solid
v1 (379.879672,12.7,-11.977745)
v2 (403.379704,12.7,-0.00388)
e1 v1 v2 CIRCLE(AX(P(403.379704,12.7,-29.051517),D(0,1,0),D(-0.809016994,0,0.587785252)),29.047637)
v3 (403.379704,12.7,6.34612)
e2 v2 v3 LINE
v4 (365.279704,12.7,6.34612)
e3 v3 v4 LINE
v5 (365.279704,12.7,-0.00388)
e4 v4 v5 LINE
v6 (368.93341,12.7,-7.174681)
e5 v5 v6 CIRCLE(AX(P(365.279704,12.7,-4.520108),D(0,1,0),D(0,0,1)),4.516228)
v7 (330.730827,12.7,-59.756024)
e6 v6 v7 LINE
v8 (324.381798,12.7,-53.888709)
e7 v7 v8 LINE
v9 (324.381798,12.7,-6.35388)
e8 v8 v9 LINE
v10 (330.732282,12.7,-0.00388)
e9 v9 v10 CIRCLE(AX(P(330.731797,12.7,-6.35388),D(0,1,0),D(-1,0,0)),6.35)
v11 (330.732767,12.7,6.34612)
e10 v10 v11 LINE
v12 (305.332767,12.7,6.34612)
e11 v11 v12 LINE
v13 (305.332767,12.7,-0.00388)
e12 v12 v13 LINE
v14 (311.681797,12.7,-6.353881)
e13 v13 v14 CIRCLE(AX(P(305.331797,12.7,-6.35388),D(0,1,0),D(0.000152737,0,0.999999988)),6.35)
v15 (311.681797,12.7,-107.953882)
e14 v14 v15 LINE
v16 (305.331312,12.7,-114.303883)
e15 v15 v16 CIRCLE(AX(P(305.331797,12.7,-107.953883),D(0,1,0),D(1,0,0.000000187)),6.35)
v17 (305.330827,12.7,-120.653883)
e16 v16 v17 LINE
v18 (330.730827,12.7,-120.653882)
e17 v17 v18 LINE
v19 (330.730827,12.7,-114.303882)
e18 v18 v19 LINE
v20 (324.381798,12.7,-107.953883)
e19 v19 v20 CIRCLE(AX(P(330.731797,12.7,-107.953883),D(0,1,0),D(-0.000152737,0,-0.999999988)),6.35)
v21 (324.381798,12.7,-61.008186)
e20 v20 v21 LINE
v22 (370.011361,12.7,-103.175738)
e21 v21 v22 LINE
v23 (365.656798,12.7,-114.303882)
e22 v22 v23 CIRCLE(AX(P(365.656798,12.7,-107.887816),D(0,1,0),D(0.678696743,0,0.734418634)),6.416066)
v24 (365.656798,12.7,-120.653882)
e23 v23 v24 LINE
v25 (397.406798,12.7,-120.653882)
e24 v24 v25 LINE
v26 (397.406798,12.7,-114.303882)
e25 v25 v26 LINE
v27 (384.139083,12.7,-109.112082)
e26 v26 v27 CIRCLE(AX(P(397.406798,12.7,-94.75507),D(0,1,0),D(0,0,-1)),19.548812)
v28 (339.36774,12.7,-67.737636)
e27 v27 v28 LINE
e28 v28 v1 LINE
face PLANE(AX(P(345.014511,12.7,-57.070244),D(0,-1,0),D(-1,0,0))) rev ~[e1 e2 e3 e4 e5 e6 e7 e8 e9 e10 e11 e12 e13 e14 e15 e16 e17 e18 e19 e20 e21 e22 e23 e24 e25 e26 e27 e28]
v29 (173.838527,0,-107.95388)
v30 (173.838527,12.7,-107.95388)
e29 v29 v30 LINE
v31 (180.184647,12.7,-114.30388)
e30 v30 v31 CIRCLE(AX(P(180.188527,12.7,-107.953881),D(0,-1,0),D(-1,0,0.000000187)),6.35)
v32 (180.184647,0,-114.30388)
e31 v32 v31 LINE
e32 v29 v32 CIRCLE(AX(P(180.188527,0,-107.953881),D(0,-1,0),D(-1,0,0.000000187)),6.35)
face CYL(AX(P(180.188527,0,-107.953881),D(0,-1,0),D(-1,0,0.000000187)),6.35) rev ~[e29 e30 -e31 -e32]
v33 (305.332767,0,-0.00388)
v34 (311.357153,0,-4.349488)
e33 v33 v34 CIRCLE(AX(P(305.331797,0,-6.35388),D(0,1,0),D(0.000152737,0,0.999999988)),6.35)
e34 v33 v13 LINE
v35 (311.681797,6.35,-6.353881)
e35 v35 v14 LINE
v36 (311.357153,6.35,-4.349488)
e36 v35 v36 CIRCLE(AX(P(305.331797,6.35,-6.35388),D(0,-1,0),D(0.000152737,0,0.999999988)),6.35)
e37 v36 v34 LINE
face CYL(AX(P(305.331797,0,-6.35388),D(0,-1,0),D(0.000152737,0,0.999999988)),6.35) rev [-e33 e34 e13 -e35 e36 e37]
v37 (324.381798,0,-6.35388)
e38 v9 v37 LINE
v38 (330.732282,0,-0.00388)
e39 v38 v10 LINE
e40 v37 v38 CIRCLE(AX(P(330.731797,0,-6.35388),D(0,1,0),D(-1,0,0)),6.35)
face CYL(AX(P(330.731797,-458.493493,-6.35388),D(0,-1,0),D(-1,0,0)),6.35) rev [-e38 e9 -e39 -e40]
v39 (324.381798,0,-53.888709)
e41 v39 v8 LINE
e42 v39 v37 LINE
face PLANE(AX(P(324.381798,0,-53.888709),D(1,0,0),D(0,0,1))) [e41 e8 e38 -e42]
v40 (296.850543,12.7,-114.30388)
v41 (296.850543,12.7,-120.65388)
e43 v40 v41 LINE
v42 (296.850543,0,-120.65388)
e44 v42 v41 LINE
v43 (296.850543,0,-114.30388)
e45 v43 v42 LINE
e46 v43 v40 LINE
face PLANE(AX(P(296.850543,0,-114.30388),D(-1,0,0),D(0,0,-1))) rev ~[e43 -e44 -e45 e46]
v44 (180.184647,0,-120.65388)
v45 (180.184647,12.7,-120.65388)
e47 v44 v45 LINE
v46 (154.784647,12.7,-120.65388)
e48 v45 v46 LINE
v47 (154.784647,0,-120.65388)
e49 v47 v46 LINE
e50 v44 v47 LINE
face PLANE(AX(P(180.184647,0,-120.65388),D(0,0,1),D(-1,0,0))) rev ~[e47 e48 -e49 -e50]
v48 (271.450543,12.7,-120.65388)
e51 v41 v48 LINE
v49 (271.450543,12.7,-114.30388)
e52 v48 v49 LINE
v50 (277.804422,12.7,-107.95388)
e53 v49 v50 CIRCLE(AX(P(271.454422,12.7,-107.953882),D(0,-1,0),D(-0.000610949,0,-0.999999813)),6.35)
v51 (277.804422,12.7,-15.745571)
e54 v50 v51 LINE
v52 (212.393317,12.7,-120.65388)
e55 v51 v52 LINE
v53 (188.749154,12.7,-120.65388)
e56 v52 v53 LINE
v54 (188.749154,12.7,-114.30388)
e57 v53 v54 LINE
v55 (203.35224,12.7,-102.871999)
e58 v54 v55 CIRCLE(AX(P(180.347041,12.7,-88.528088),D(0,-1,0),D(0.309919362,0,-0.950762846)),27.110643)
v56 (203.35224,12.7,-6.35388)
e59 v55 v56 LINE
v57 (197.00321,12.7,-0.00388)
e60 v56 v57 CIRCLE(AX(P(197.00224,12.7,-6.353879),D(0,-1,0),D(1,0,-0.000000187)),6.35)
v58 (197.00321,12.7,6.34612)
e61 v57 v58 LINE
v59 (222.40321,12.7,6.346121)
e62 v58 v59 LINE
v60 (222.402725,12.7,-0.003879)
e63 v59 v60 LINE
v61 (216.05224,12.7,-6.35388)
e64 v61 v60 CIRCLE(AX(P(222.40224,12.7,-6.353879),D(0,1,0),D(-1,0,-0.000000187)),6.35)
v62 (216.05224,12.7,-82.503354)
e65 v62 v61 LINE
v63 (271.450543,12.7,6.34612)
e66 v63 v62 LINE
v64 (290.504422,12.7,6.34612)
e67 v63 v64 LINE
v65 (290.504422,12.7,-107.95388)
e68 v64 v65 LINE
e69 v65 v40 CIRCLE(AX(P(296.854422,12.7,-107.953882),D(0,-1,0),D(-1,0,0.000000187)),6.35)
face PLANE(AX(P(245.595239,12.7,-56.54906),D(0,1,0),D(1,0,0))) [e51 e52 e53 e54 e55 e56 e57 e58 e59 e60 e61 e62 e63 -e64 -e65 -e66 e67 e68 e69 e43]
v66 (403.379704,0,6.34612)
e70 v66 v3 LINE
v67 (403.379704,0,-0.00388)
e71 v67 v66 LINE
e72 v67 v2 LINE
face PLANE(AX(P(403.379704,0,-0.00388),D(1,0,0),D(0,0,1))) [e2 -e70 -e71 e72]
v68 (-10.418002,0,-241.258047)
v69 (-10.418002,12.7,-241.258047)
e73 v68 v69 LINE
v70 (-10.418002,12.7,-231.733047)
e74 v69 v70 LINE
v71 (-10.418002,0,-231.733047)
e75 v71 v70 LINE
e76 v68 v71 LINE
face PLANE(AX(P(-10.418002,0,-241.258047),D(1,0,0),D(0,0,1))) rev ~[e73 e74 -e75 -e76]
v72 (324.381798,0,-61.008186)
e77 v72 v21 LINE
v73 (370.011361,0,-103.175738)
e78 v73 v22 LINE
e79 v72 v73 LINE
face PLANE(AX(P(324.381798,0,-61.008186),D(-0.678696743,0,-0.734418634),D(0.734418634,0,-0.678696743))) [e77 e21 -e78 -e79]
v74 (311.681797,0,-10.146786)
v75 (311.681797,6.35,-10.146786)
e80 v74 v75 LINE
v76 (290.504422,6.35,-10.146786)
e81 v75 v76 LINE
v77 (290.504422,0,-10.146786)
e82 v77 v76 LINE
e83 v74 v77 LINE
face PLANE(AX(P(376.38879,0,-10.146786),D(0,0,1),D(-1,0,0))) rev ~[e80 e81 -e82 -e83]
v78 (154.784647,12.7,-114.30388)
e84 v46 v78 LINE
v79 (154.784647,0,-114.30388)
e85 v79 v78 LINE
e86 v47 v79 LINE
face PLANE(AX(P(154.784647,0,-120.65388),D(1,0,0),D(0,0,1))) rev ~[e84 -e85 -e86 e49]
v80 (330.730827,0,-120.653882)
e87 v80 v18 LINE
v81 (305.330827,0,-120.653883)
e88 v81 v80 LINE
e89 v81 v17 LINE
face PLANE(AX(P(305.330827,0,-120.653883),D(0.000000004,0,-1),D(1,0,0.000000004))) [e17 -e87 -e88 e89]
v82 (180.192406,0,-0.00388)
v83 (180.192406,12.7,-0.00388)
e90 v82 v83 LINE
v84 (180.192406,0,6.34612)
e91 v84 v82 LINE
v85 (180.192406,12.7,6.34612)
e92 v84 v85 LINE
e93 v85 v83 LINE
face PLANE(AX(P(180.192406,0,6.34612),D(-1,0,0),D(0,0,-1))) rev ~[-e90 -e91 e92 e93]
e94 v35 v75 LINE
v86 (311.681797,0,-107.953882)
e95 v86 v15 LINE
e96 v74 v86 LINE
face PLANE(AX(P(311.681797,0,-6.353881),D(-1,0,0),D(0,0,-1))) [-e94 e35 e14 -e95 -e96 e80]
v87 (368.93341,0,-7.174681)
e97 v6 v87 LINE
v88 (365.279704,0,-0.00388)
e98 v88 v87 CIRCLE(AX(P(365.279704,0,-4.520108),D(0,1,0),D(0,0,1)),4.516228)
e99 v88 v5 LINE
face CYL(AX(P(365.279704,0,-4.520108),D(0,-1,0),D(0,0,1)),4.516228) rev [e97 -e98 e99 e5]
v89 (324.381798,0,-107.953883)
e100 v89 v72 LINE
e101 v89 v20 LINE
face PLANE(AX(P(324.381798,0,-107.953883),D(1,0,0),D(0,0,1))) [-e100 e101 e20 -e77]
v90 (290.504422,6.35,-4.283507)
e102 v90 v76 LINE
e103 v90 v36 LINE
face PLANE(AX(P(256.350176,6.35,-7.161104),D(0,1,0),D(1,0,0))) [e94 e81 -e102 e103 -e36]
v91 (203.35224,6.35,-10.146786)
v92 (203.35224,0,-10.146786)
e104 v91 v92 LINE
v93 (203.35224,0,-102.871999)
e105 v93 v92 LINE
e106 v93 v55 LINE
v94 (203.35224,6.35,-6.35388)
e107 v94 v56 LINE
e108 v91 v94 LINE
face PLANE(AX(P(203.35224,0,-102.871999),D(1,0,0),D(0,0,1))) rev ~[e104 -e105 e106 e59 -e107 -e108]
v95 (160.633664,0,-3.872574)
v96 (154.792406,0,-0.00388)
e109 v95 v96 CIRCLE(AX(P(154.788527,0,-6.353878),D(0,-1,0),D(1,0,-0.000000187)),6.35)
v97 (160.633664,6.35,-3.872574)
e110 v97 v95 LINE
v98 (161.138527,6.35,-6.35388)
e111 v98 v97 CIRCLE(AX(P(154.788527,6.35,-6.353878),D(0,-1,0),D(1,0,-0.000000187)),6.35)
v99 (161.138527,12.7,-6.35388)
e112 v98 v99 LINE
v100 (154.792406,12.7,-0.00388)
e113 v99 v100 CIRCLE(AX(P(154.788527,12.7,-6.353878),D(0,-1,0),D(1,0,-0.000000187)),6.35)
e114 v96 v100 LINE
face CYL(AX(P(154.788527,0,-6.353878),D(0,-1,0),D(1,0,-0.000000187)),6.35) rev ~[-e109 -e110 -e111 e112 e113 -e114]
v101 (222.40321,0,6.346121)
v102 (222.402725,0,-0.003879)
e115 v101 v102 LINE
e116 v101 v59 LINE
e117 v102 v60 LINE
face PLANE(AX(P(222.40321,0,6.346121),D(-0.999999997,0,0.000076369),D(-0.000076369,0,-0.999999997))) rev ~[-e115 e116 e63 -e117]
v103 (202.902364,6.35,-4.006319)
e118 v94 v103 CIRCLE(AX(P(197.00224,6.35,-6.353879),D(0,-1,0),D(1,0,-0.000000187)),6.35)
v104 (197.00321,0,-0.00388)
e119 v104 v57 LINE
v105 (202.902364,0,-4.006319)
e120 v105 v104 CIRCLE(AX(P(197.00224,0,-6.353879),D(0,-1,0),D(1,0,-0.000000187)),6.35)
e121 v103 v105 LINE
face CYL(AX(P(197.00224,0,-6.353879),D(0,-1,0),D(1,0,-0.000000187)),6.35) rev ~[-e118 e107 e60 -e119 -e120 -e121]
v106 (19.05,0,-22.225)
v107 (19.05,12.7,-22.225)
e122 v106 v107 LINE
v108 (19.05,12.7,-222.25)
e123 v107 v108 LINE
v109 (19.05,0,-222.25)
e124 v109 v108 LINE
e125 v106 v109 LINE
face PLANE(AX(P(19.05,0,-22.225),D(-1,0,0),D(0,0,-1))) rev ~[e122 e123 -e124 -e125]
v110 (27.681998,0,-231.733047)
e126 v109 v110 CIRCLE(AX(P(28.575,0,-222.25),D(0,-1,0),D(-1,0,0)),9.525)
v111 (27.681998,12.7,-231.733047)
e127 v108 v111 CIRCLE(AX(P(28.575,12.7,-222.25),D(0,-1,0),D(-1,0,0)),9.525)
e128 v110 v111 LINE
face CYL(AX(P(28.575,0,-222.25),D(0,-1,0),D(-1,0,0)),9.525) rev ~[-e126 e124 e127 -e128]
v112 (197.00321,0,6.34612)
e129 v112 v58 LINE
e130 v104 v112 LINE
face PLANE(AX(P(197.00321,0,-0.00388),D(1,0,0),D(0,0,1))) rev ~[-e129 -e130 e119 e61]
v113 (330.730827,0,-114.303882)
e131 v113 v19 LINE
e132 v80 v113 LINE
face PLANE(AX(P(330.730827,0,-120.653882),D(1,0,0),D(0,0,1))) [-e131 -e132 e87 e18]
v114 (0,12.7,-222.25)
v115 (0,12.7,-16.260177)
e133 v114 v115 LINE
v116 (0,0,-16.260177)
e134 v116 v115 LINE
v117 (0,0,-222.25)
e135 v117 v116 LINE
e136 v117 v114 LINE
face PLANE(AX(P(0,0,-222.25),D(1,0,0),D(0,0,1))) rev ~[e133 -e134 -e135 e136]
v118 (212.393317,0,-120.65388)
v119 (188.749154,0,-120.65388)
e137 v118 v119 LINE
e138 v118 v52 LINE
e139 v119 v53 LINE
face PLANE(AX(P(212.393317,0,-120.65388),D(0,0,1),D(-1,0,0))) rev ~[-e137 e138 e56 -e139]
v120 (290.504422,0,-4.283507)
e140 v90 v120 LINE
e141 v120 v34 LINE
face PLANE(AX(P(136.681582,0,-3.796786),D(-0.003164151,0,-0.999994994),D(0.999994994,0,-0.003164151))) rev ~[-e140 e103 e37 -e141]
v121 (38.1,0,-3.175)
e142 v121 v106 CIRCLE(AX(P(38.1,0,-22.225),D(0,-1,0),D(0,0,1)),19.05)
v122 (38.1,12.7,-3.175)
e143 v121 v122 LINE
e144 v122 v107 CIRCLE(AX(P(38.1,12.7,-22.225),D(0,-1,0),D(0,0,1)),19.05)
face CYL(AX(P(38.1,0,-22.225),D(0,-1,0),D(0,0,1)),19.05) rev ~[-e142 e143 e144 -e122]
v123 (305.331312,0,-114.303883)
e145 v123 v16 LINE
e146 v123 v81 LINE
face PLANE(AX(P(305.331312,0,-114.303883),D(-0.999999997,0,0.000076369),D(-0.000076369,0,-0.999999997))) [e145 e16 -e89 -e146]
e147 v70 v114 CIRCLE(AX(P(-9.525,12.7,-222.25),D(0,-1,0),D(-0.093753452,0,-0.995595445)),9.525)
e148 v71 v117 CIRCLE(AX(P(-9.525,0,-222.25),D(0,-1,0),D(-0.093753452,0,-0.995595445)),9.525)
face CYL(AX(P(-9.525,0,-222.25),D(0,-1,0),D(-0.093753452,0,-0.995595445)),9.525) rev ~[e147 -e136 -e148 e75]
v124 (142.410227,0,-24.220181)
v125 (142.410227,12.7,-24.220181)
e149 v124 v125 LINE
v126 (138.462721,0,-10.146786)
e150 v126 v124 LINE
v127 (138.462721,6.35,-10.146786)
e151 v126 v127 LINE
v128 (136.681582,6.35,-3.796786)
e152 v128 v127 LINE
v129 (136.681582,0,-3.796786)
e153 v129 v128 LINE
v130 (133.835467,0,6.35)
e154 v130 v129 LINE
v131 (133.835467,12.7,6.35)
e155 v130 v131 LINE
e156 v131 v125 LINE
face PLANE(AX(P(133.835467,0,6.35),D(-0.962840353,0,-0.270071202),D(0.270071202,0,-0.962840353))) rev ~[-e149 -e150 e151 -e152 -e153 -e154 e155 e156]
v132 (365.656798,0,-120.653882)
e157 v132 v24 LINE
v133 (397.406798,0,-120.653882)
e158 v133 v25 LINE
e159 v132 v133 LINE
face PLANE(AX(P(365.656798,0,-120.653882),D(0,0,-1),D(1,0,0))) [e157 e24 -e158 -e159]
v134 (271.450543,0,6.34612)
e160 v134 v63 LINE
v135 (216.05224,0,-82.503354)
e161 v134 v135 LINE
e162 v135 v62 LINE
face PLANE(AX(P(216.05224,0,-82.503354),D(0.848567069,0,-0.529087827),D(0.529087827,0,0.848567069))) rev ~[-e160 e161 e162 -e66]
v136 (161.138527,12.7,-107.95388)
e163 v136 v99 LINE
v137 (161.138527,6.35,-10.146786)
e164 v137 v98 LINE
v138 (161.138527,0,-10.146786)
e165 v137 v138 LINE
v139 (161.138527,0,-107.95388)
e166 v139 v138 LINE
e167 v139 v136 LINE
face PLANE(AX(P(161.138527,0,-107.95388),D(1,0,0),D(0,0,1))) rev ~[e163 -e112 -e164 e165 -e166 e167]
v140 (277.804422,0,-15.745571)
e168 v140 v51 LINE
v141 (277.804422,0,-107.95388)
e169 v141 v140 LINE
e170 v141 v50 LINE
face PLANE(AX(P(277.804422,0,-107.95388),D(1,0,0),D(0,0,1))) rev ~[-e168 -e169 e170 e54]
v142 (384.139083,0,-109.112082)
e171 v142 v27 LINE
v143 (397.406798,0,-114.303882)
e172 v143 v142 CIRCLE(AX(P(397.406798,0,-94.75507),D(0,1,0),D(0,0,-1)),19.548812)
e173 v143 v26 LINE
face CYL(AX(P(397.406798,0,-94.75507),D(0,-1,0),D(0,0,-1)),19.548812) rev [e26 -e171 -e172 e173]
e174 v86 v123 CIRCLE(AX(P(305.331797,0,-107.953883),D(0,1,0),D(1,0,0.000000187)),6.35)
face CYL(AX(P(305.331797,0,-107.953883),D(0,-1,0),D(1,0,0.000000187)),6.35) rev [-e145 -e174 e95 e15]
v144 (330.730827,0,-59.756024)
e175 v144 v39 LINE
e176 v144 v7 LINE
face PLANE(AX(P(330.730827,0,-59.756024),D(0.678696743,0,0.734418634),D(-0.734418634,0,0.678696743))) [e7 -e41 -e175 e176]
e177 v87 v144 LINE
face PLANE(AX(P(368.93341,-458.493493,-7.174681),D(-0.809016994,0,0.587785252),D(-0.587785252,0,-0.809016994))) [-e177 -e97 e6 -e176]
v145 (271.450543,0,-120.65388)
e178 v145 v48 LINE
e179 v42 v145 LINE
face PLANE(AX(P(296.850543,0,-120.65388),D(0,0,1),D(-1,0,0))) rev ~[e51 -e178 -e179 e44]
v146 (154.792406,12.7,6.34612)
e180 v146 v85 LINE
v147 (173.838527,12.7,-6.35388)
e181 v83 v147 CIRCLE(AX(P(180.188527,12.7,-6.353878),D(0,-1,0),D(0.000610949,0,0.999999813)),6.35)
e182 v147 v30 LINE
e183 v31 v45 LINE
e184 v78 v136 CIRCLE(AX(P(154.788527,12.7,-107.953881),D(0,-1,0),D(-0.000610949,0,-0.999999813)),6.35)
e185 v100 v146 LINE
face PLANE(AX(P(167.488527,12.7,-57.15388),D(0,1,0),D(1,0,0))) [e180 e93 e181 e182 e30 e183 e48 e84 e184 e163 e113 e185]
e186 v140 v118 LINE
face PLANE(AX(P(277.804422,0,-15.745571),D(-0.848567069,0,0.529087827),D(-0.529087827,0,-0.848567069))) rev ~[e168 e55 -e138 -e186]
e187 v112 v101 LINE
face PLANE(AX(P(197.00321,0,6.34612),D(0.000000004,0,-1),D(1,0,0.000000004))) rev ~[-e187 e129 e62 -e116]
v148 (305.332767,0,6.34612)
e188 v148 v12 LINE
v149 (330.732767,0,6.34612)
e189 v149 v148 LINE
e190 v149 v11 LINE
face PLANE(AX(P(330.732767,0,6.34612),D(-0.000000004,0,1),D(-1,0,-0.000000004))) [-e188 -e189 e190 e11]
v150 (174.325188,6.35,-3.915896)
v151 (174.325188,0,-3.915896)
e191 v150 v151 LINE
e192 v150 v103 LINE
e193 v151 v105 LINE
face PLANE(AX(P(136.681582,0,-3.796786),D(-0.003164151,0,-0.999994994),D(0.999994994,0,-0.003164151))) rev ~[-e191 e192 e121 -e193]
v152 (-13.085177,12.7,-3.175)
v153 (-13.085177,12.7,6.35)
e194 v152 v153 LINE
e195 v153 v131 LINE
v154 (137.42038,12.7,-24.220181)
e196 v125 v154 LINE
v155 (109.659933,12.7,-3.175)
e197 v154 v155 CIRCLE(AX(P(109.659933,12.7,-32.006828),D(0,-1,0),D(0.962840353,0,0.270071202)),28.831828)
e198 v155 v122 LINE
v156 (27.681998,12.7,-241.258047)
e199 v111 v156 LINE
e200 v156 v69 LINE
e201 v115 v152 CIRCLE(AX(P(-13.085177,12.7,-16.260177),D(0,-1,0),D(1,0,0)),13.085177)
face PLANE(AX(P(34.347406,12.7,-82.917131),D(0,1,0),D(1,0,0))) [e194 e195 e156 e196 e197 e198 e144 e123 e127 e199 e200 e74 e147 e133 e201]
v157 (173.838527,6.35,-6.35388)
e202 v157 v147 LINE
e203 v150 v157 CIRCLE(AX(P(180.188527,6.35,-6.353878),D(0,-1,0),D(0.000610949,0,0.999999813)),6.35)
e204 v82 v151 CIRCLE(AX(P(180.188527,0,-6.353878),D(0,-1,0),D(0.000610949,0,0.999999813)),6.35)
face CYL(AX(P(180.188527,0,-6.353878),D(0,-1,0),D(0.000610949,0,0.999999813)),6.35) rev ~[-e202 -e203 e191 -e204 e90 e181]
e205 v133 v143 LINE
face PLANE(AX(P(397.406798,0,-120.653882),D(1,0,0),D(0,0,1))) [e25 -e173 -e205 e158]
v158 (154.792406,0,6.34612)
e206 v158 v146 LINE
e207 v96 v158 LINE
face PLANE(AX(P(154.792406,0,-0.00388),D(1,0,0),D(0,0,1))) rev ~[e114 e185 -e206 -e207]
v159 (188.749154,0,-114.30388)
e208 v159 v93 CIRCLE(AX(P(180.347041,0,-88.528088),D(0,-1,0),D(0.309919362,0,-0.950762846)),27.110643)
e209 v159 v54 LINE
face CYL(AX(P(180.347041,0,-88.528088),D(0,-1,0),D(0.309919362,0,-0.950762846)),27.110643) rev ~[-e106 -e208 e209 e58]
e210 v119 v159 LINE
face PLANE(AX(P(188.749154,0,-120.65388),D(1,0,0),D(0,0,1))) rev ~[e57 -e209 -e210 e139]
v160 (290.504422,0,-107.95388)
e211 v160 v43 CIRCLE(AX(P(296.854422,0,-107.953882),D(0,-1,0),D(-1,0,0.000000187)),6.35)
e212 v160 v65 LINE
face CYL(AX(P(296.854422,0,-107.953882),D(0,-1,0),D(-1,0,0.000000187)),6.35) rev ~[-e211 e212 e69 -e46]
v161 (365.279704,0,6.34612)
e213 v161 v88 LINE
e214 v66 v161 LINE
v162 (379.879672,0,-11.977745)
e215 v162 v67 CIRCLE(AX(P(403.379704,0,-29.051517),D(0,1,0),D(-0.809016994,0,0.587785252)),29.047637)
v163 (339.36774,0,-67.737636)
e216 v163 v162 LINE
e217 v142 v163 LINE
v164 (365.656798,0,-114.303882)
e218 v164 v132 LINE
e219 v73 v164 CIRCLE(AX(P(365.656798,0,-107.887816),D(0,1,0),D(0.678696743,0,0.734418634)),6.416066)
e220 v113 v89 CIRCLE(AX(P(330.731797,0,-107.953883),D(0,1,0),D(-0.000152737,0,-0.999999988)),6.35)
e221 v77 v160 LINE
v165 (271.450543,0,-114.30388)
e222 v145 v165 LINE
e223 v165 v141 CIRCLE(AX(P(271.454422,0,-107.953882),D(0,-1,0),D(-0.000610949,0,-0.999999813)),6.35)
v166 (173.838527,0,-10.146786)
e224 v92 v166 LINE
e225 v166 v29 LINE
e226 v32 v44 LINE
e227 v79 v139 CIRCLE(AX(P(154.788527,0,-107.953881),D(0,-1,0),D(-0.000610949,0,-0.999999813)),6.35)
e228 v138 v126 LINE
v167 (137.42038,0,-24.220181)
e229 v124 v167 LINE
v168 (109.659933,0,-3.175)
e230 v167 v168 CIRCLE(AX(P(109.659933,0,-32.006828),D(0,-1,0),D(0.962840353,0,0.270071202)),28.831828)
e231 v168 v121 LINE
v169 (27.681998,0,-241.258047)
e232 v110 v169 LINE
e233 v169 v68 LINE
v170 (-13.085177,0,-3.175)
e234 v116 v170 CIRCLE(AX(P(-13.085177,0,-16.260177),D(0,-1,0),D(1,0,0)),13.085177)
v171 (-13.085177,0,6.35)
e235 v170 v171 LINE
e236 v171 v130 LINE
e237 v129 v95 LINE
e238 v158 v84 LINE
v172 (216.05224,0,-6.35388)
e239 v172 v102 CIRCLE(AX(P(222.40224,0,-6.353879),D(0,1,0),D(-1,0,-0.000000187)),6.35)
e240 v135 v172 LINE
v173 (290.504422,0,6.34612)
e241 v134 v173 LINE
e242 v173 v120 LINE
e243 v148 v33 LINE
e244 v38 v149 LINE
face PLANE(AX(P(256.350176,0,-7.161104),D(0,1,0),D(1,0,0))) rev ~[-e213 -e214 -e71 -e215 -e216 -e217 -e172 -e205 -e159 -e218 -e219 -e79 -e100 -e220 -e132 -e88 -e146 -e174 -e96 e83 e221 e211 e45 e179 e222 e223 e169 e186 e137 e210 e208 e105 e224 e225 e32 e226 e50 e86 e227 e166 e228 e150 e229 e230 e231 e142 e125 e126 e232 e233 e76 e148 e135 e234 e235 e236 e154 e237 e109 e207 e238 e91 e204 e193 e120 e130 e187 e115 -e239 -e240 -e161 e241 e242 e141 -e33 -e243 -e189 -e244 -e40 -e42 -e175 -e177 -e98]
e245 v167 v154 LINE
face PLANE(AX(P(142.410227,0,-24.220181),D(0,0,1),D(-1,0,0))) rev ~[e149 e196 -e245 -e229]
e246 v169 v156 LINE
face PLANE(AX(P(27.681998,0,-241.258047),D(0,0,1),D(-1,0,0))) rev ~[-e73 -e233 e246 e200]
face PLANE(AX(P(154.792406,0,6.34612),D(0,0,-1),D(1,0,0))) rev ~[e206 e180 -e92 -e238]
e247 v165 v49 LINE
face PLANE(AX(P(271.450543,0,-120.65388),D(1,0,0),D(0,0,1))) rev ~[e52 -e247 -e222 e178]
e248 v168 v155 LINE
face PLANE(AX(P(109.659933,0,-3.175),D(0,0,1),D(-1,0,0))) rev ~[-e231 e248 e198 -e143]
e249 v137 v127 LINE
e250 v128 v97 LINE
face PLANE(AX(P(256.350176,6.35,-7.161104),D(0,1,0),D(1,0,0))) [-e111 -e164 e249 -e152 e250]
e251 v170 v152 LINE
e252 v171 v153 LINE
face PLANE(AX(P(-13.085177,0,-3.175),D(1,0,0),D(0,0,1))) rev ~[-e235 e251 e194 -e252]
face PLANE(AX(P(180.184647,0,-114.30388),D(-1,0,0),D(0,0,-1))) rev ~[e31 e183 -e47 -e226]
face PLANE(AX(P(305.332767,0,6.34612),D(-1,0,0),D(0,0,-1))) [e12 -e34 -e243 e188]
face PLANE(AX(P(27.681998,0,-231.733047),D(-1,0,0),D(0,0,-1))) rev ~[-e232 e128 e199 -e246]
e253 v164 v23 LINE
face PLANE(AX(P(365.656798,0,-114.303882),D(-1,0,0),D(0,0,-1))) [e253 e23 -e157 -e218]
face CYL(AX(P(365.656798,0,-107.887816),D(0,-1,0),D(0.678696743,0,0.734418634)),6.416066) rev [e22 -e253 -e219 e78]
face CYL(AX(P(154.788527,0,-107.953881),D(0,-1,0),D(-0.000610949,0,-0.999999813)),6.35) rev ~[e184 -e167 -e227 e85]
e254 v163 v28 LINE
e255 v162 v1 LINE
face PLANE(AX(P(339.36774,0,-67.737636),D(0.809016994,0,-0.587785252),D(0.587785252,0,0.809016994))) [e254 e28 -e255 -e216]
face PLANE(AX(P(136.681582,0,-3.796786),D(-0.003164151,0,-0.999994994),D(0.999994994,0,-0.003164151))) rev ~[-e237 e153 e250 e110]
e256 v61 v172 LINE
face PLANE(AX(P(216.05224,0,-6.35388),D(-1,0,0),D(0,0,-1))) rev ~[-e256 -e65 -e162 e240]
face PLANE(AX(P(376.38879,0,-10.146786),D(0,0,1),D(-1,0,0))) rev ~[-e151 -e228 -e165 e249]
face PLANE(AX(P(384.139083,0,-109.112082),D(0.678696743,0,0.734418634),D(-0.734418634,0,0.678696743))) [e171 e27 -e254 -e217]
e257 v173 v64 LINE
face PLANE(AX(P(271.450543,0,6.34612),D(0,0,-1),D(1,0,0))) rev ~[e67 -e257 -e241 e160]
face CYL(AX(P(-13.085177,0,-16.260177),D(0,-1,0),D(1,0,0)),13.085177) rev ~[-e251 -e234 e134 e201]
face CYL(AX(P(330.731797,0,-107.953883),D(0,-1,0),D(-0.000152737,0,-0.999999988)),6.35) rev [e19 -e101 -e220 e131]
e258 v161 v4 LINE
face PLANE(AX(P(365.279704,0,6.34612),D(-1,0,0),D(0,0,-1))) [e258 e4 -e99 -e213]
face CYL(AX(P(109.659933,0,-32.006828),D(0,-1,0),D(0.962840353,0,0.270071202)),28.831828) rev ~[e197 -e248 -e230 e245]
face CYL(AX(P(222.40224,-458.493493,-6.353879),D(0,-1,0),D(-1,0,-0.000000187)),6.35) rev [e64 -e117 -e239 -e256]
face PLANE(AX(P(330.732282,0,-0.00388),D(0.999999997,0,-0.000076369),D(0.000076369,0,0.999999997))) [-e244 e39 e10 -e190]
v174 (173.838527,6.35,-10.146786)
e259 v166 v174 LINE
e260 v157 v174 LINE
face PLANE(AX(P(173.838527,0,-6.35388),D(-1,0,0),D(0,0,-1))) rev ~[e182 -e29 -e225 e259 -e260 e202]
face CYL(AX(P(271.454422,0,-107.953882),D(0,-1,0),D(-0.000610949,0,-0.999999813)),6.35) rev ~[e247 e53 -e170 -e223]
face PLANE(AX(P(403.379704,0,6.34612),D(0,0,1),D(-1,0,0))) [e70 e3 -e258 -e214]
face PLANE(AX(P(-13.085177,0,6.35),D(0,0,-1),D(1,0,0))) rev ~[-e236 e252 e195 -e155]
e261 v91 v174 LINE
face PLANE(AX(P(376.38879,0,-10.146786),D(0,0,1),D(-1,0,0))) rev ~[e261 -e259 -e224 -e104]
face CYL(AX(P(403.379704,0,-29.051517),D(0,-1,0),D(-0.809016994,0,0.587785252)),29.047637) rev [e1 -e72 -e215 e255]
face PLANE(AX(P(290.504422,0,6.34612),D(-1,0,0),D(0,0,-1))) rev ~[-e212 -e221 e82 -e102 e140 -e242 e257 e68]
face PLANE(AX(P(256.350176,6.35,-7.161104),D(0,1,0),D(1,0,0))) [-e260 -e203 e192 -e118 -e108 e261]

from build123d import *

# Parameters (mm, degrees)
BOSS_EXTRUDE1_DEPTH     = 12.7
BOSS_EXTRUDE1_2_DEPTH   = 12.7
BOSS_EXTRUDE1_3_DEPTH   = 12.7
BOSS_EXTRUDE1_4_DEPTH   = 12.7
BOSS_EXTRUDE2_DEPTH     = 6.35
CUT_EXTRUDE2_DEPTH      = 471.19349296362236
CUT_EXTRUDE2_DEPTH_BACK = 471.19349296362236


with BuildPart() as part:
    # Sketch2 → Boss-Extrude1 (new body)
    with BuildSketch(Plane(origin=(0, 0, 0), x_dir=(1, 0, 0), z_dir=(0, 1, 0))):
        with BuildLine():
            Line((173.83852694696787, 6.353879523850983), (173.83852694696787, 107.95387952385097))
            ThreePointArc((173.83852694696787, 107.95387952385097), (175.69702705818847, 112.4426365219853), (180.18464742311625, 114.30387952385061))
            Line((180.18464742311625, 114.30387952385061), (180.18464742311627, 120.65387952385097))
            Line((180.18464742311627, 120.65387952385097), (154.78464742311627, 120.65387952385103))
            Line((154.78464742311627, 120.65387952385103), (154.78464742311627, 114.30387952385061))
            ThreePointArc((154.78464742311627, 114.30387952385061), (159.27728359825178, 112.44537975999239), (161.1385269469677, 107.95387952385097))
            Line((161.1385269469677, 107.95387952385097), (161.1385269469677, 6.353879523850983))
            ThreePointArc((161.1385269469677, 6.353879523850983), (159.28002683574687, 1.8651225257164699), (154.79240647081883, 0.00387952385118295))
            Line((154.79240647081883, 0.00387952385118295), (154.79240647081883, -6.34612047614902))
            Line((154.79240647081883, -6.34612047614902), (180.19240647081884, -6.34612047614902))
            Line((180.19240647081884, -6.34612047614902), (180.19240647081887, 0.00387952385118295))
            ThreePointArc((180.19240647081887, 0.00387952385118295), (175.69977029568358, 1.8623792877096292), (173.83852694696787, 6.353879523850983))
        make_face()
    extrude(amount=BOSS_EXTRUDE1_DEPTH)



with BuildPart() as body_2:
    # Sketch2 → Boss-Extrude1 2 (new body)
    with BuildSketch(Plane(origin=(0, 0, 0), x_dir=(1, 0, 0), z_dir=(0, 1, 0))):
        with BuildLine():
            Line((290.5044221112303, -6.346119624362247), (290.50442211122953, 107.95388037563158))
            ThreePointArc((290.50442211122953, 107.95388037563158), (292.3629222224477, 112.44263737377035), (296.8505425873776, 114.30388037563806))
            Line((296.8505425873776, 114.30388037563806), (296.8505425873776, 120.65388037564047))
            Line((296.8505425873776, 120.65388037564047), (271.45054258737764, 120.65388037564018))
            Line((271.45054258737764, 120.65388037564018), (271.4505425873777, 114.30388037563777))
            ThreePointArc((271.4505425873777, 114.30388037563777), (275.94317876251387, 112.44538061177975), (277.80442211123, 107.95388037563791))
            Line((277.80442211123, 107.95388037563791), (277.80442211123005, 15.745570535197672))
            Line((277.80442211123005, 15.745570535197672), (212.3933170880388, 120.65388037563798))
            Line((212.3933170880388, 120.65388037563798), (188.7491541871168, 120.65388037563798))
            Line((188.7491541871168, 120.65388037563798), (188.7491541871168, 114.30388037563738))
            ThreePointArc((188.7491541871168, 114.30388037563738), (197.0586174651338, 109.87545758746259), (203.35223987593548, 102.87199949093673))
            Line((203.35223987593548, 102.87199949093673), (203.35223987593548, 6.353880375637708))
            ThreePointArc((203.35223987593548, 6.353880375637708), (201.49271132298225, 1.8640946501521807), (197.00321001616626, 0.00387952385096785))
            Line((197.00321001616626, 0.00387952385096785), (197.00321001616626, -6.34612047614902))
            Line((197.00321001616626, -6.34612047614902), (222.4032100161663, -6.34612058725173))
            Line((222.4032100161663, -6.34612058725173), (222.4027250756679, 0.00387939423115991))
            ThreePointArc((222.4027250756679, 0.00387939423115991), (217.91228324219506, 1.8635802308402507), (216.0522403203464, 6.353880375637722))
            Line((216.0522403203464, 6.353880375637722), (216.0522403203464, 82.50335442487922))
            Line((216.0522403203464, 82.50335442487922), (271.45054277255036, -6.346119624362282))
            Line((271.45054277255036, -6.346119624362282), (290.5044221112303, -6.346119624362247))
        make_face()
    extrude(amount=BOSS_EXTRUDE1_2_DEPTH)


with BuildPart() as body_3:
    # Sketch2 → Boss-Extrude1 3 (new body)
    with BuildSketch(Plane(origin=(0, 0, 0), x_dir=(1, 0, 0), z_dir=(0, 1, 0))):
        with BuildLine():
            ThreePointArc((379.8796721750226, 11.977744632292787), (390.1923529413957, 3.169883174382882), (403.37970421101926, 0.00388024601806133))
            Line((403.37970421101926, 0.00388024601806133), (403.37970421101926, -6.346119753981942))
            Line((403.37970421101926, -6.346119753981942), (365.27970421101924, -6.346119753981938))
            Line((365.27970421101924, -6.346119753981938), (365.2797042110193, 0.00388024601805613))
            ThreePointArc((365.2797042110193, 0.00388024601805613), (369.3036929855622, 2.4697837385241583), (368.9334095604214, 7.174680748774959))
            Line((368.9334095604214, 7.174680748774959), (330.73082744761575, 59.756024084156806))
            Line((330.73082744761575, 59.756024084156806), (324.38179758784645, 53.88870851238104))
            Line((324.38179758784645, 53.88870851238104), (324.38179758784645, 6.353880042329715))
            ThreePointArc((324.38179758784645, 6.353880042329715), (326.24184092866363, 1.8635806636905663), (330.7322823430498, 0.00388024601804399))
            Line((330.7322823430498, 0.00388024601804399), (330.73276728366636, -6.346119735464957))
            Line((330.73276728366636, -6.346119735464957), (305.3327672836663, -6.346119624362247))
            Line((305.3327672836663, -6.346119624362247), (305.3327672836663, 0.00388037563774091))
            ThreePointArc((305.3327672836663, 0.00388037563774091), (309.8222685904823, 1.8640955019389631), (311.6817971434355, 6.3538812274244805))
            Line((311.6817971434355, 6.3538812274244805), (311.6817971434355, 107.95388156073302))
            ThreePointArc((311.6817971434355, 107.95388156073302), (309.82175422158684, 112.44418170553047), (305.331312388114, 114.30388254213955))
            Line((305.331312388114, 114.30388254213955), (305.33082744761555, 120.65388252362244))
            Line((305.33082744761555, 120.65388252362244), (330.7308274476156, 120.65388241251989))
            Line((330.7308274476156, 120.65388241251989), (330.73082744761564, 114.3038824125199))
            ThreePointArc((330.73082744761564, 114.3038824125199), (326.241326559762, 112.4436677052449), (324.38179758784645, 107.95388274582793))
            Line((324.38179758784645, 107.95388274582793), (324.38179758784645, 61.00818587469014))
            Line((324.38179758784645, 61.00818587469014), (370.01136074815463, 103.17573782782141))
            ThreePointArc((370.01136074815463, 103.17573782782141), (371.6316997254356, 110.22586005871784), (365.6567975878465, 114.30388241251993))
            Line((365.6567975878465, 114.30388241251993), (365.6567975878465, 120.65388241251989))
            Line((365.6567975878465, 120.65388241251989), (397.4067975878465, 120.65388241251989))
            Line((397.4067975878465, 120.65388241251989), (397.4067975878465, 114.3038824125199))
            ThreePointArc((397.4067975878465, 114.3038824125199), (390.28312138184594, 112.95972058249937), (384.1390825743689, 109.11208223600183))
            Line((384.1390825743689, 109.11208223600183), (339.36773990380823, 67.7376357737456))
            Line((339.36773990380823, 67.7376357737456), (379.8796721750226, 11.977744632292787))
        make_face()
    extrude(amount=BOSS_EXTRUDE1_3_DEPTH)


with BuildPart() as body_4:
    # Sketch2 → Boss-Extrude1 4 (new body)
    with BuildSketch(Plane(origin=(0, 0, 0), x_dir=(1, 0, 0), z_dir=(0, 1, 0))):
        with BuildLine():
            Line((0, -6.35), (127, -6.35))
            Line((127, -6.35), (133.835466699924, -6.35))
            Line((133.835466699924, -6.35), (142.41022736904142, 24.2201812141727))
            Line((142.41022736904142, 24.2201812141727), (137.42037994397373, 24.2201812141727))
            ThreePointArc((137.42037994397373, 24.2201812141727), (127.07789830370176, 9.03099759553653), (109.65993293339864, 3.1750000000000025))
            Line((109.65993293339864, 3.1750000000000025), (38.100000000000165, 3.1750000000000007))
            ThreePointArc((38.100000000000165, 3.1750000000000007), (24.629615818396296, 8.754615818396267), (19.050000000000022, 22.225000000000133))
            Line((19.050000000000022, 22.225000000000133), (19.049999999999997, 222.25))
            ThreePointArc((19.049999999999997, 222.25), (21.531156391441193, 228.66169963567893), (27.681998366018952, 231.7330466139162))
            Line((27.681998366018952, 231.7330466139162), (27.68199836601896, 241.2580466139162))
            Line((27.68199836601896, 241.2580466139162), (-10.418001633981042, 241.2580466139162))
            Line((-10.418001633981042, 241.2580466139162), (-10.418001633981042, 231.7330466139162))
            ThreePointArc((-10.418001633981042, 231.7330466139162), (-3.1133003643210593, 229.2938436085588), (0, 222.25))
            Line((0, 222.25), (0, 16.260176542443787))
            ThreePointArc((0, 16.260176542443787), (-3.8325594762586483, 7.0075594762586455), (-13.085176542443792, 3.1750000000000007))
            Line((-13.085176542443792, 3.1750000000000007), (-13.085176542443786, -6.35))
            Line((-13.085176542443786, -6.35), (0, -6.35))
        make_face()
    extrude(amount=BOSS_EXTRUDE1_4_DEPTH)


with BuildPart() as part_1:
    add(part.part)

    add(body_2.part)  # Boss-Extrude2 merges body 2

    add(body_3.part)  # Boss-Extrude2 merges body 3

    add(body_4.part)  # Boss-Extrude2 merges body 4
    # Sketch4 → Boss-Extrude2 (add)
    with BuildSketch(Plane(origin=(0, 0, 0), x_dir=(1, 0, 0), z_dir=(0, 1, 0))):
        Polygon((136.68158195989426, 3.7967857367812146), (376.38878950850017, 4.555259431461488), (376.38878950850017, 10.146785736781245), (136.68158195989426, 10.146785736781215), align=None)
    extrude(amount=BOSS_EXTRUDE2_DEPTH)

    # Sketch6 → Cut-Extrude2 (cut, two sides: drawn at the far end of the back side and taken through both)
    with BuildSketch(Plane(origin=(0, 12.7, 0), x_dir=(1, 0, 0), z_dir=(0, 1, 0)).offset(-CUT_EXTRUDE2_DEPTH_BACK)):
        with BuildLine():
            Line((324.6925686344705, 4.391683942646109), (369.79590978466945, 4.534398457384592))
            ThreePointArc((369.79590978466945, 4.534398457384592), (369.57267914306925, 5.922493261126043), (368.9334095604214, 7.174680748774945))
            Line((368.9334095604214, 7.174680748774945), (366.77404888893807, 10.146785736781244))
            Line((366.77404888893807, 10.146785736781244), (324.38179758784645, 10.146785736781238))
            Line((324.38179758784645, 10.146785736781238), (324.38179758784645, 6.353880042329715))
            ThreePointArc((324.38179758784645, 6.353880042329715), (324.4599715437991, 5.360553286293043), (324.6925686344705, 4.391683942646109))
        make_face()
        with BuildLine():
            Line((216.4851967942631, 4.049297720927505), (264.8734590646552, 4.202406275479168))
            Line((264.8734590646552, 4.202406275479168), (261.16709462286485, 10.14678573678123))
            Line((261.16709462286485, 10.14678573678123), (216.0522403203464, 10.146785736781224))
            Line((216.0522403203464, 10.146785736781224), (216.0522403203464, 6.353880375637722))
            ThreePointArc((216.0522403203464, 6.353880375637722), (216.16141789373137, 5.181430727271779), (216.4851967942631, 4.049297720927505))
        make_face()
    extrude(amount=CUT_EXTRUDE2_DEPTH + CUT_EXTRUDE2_DEPTH_BACK, mode=Mode.SUBTRACT)


solid = part_1.part
